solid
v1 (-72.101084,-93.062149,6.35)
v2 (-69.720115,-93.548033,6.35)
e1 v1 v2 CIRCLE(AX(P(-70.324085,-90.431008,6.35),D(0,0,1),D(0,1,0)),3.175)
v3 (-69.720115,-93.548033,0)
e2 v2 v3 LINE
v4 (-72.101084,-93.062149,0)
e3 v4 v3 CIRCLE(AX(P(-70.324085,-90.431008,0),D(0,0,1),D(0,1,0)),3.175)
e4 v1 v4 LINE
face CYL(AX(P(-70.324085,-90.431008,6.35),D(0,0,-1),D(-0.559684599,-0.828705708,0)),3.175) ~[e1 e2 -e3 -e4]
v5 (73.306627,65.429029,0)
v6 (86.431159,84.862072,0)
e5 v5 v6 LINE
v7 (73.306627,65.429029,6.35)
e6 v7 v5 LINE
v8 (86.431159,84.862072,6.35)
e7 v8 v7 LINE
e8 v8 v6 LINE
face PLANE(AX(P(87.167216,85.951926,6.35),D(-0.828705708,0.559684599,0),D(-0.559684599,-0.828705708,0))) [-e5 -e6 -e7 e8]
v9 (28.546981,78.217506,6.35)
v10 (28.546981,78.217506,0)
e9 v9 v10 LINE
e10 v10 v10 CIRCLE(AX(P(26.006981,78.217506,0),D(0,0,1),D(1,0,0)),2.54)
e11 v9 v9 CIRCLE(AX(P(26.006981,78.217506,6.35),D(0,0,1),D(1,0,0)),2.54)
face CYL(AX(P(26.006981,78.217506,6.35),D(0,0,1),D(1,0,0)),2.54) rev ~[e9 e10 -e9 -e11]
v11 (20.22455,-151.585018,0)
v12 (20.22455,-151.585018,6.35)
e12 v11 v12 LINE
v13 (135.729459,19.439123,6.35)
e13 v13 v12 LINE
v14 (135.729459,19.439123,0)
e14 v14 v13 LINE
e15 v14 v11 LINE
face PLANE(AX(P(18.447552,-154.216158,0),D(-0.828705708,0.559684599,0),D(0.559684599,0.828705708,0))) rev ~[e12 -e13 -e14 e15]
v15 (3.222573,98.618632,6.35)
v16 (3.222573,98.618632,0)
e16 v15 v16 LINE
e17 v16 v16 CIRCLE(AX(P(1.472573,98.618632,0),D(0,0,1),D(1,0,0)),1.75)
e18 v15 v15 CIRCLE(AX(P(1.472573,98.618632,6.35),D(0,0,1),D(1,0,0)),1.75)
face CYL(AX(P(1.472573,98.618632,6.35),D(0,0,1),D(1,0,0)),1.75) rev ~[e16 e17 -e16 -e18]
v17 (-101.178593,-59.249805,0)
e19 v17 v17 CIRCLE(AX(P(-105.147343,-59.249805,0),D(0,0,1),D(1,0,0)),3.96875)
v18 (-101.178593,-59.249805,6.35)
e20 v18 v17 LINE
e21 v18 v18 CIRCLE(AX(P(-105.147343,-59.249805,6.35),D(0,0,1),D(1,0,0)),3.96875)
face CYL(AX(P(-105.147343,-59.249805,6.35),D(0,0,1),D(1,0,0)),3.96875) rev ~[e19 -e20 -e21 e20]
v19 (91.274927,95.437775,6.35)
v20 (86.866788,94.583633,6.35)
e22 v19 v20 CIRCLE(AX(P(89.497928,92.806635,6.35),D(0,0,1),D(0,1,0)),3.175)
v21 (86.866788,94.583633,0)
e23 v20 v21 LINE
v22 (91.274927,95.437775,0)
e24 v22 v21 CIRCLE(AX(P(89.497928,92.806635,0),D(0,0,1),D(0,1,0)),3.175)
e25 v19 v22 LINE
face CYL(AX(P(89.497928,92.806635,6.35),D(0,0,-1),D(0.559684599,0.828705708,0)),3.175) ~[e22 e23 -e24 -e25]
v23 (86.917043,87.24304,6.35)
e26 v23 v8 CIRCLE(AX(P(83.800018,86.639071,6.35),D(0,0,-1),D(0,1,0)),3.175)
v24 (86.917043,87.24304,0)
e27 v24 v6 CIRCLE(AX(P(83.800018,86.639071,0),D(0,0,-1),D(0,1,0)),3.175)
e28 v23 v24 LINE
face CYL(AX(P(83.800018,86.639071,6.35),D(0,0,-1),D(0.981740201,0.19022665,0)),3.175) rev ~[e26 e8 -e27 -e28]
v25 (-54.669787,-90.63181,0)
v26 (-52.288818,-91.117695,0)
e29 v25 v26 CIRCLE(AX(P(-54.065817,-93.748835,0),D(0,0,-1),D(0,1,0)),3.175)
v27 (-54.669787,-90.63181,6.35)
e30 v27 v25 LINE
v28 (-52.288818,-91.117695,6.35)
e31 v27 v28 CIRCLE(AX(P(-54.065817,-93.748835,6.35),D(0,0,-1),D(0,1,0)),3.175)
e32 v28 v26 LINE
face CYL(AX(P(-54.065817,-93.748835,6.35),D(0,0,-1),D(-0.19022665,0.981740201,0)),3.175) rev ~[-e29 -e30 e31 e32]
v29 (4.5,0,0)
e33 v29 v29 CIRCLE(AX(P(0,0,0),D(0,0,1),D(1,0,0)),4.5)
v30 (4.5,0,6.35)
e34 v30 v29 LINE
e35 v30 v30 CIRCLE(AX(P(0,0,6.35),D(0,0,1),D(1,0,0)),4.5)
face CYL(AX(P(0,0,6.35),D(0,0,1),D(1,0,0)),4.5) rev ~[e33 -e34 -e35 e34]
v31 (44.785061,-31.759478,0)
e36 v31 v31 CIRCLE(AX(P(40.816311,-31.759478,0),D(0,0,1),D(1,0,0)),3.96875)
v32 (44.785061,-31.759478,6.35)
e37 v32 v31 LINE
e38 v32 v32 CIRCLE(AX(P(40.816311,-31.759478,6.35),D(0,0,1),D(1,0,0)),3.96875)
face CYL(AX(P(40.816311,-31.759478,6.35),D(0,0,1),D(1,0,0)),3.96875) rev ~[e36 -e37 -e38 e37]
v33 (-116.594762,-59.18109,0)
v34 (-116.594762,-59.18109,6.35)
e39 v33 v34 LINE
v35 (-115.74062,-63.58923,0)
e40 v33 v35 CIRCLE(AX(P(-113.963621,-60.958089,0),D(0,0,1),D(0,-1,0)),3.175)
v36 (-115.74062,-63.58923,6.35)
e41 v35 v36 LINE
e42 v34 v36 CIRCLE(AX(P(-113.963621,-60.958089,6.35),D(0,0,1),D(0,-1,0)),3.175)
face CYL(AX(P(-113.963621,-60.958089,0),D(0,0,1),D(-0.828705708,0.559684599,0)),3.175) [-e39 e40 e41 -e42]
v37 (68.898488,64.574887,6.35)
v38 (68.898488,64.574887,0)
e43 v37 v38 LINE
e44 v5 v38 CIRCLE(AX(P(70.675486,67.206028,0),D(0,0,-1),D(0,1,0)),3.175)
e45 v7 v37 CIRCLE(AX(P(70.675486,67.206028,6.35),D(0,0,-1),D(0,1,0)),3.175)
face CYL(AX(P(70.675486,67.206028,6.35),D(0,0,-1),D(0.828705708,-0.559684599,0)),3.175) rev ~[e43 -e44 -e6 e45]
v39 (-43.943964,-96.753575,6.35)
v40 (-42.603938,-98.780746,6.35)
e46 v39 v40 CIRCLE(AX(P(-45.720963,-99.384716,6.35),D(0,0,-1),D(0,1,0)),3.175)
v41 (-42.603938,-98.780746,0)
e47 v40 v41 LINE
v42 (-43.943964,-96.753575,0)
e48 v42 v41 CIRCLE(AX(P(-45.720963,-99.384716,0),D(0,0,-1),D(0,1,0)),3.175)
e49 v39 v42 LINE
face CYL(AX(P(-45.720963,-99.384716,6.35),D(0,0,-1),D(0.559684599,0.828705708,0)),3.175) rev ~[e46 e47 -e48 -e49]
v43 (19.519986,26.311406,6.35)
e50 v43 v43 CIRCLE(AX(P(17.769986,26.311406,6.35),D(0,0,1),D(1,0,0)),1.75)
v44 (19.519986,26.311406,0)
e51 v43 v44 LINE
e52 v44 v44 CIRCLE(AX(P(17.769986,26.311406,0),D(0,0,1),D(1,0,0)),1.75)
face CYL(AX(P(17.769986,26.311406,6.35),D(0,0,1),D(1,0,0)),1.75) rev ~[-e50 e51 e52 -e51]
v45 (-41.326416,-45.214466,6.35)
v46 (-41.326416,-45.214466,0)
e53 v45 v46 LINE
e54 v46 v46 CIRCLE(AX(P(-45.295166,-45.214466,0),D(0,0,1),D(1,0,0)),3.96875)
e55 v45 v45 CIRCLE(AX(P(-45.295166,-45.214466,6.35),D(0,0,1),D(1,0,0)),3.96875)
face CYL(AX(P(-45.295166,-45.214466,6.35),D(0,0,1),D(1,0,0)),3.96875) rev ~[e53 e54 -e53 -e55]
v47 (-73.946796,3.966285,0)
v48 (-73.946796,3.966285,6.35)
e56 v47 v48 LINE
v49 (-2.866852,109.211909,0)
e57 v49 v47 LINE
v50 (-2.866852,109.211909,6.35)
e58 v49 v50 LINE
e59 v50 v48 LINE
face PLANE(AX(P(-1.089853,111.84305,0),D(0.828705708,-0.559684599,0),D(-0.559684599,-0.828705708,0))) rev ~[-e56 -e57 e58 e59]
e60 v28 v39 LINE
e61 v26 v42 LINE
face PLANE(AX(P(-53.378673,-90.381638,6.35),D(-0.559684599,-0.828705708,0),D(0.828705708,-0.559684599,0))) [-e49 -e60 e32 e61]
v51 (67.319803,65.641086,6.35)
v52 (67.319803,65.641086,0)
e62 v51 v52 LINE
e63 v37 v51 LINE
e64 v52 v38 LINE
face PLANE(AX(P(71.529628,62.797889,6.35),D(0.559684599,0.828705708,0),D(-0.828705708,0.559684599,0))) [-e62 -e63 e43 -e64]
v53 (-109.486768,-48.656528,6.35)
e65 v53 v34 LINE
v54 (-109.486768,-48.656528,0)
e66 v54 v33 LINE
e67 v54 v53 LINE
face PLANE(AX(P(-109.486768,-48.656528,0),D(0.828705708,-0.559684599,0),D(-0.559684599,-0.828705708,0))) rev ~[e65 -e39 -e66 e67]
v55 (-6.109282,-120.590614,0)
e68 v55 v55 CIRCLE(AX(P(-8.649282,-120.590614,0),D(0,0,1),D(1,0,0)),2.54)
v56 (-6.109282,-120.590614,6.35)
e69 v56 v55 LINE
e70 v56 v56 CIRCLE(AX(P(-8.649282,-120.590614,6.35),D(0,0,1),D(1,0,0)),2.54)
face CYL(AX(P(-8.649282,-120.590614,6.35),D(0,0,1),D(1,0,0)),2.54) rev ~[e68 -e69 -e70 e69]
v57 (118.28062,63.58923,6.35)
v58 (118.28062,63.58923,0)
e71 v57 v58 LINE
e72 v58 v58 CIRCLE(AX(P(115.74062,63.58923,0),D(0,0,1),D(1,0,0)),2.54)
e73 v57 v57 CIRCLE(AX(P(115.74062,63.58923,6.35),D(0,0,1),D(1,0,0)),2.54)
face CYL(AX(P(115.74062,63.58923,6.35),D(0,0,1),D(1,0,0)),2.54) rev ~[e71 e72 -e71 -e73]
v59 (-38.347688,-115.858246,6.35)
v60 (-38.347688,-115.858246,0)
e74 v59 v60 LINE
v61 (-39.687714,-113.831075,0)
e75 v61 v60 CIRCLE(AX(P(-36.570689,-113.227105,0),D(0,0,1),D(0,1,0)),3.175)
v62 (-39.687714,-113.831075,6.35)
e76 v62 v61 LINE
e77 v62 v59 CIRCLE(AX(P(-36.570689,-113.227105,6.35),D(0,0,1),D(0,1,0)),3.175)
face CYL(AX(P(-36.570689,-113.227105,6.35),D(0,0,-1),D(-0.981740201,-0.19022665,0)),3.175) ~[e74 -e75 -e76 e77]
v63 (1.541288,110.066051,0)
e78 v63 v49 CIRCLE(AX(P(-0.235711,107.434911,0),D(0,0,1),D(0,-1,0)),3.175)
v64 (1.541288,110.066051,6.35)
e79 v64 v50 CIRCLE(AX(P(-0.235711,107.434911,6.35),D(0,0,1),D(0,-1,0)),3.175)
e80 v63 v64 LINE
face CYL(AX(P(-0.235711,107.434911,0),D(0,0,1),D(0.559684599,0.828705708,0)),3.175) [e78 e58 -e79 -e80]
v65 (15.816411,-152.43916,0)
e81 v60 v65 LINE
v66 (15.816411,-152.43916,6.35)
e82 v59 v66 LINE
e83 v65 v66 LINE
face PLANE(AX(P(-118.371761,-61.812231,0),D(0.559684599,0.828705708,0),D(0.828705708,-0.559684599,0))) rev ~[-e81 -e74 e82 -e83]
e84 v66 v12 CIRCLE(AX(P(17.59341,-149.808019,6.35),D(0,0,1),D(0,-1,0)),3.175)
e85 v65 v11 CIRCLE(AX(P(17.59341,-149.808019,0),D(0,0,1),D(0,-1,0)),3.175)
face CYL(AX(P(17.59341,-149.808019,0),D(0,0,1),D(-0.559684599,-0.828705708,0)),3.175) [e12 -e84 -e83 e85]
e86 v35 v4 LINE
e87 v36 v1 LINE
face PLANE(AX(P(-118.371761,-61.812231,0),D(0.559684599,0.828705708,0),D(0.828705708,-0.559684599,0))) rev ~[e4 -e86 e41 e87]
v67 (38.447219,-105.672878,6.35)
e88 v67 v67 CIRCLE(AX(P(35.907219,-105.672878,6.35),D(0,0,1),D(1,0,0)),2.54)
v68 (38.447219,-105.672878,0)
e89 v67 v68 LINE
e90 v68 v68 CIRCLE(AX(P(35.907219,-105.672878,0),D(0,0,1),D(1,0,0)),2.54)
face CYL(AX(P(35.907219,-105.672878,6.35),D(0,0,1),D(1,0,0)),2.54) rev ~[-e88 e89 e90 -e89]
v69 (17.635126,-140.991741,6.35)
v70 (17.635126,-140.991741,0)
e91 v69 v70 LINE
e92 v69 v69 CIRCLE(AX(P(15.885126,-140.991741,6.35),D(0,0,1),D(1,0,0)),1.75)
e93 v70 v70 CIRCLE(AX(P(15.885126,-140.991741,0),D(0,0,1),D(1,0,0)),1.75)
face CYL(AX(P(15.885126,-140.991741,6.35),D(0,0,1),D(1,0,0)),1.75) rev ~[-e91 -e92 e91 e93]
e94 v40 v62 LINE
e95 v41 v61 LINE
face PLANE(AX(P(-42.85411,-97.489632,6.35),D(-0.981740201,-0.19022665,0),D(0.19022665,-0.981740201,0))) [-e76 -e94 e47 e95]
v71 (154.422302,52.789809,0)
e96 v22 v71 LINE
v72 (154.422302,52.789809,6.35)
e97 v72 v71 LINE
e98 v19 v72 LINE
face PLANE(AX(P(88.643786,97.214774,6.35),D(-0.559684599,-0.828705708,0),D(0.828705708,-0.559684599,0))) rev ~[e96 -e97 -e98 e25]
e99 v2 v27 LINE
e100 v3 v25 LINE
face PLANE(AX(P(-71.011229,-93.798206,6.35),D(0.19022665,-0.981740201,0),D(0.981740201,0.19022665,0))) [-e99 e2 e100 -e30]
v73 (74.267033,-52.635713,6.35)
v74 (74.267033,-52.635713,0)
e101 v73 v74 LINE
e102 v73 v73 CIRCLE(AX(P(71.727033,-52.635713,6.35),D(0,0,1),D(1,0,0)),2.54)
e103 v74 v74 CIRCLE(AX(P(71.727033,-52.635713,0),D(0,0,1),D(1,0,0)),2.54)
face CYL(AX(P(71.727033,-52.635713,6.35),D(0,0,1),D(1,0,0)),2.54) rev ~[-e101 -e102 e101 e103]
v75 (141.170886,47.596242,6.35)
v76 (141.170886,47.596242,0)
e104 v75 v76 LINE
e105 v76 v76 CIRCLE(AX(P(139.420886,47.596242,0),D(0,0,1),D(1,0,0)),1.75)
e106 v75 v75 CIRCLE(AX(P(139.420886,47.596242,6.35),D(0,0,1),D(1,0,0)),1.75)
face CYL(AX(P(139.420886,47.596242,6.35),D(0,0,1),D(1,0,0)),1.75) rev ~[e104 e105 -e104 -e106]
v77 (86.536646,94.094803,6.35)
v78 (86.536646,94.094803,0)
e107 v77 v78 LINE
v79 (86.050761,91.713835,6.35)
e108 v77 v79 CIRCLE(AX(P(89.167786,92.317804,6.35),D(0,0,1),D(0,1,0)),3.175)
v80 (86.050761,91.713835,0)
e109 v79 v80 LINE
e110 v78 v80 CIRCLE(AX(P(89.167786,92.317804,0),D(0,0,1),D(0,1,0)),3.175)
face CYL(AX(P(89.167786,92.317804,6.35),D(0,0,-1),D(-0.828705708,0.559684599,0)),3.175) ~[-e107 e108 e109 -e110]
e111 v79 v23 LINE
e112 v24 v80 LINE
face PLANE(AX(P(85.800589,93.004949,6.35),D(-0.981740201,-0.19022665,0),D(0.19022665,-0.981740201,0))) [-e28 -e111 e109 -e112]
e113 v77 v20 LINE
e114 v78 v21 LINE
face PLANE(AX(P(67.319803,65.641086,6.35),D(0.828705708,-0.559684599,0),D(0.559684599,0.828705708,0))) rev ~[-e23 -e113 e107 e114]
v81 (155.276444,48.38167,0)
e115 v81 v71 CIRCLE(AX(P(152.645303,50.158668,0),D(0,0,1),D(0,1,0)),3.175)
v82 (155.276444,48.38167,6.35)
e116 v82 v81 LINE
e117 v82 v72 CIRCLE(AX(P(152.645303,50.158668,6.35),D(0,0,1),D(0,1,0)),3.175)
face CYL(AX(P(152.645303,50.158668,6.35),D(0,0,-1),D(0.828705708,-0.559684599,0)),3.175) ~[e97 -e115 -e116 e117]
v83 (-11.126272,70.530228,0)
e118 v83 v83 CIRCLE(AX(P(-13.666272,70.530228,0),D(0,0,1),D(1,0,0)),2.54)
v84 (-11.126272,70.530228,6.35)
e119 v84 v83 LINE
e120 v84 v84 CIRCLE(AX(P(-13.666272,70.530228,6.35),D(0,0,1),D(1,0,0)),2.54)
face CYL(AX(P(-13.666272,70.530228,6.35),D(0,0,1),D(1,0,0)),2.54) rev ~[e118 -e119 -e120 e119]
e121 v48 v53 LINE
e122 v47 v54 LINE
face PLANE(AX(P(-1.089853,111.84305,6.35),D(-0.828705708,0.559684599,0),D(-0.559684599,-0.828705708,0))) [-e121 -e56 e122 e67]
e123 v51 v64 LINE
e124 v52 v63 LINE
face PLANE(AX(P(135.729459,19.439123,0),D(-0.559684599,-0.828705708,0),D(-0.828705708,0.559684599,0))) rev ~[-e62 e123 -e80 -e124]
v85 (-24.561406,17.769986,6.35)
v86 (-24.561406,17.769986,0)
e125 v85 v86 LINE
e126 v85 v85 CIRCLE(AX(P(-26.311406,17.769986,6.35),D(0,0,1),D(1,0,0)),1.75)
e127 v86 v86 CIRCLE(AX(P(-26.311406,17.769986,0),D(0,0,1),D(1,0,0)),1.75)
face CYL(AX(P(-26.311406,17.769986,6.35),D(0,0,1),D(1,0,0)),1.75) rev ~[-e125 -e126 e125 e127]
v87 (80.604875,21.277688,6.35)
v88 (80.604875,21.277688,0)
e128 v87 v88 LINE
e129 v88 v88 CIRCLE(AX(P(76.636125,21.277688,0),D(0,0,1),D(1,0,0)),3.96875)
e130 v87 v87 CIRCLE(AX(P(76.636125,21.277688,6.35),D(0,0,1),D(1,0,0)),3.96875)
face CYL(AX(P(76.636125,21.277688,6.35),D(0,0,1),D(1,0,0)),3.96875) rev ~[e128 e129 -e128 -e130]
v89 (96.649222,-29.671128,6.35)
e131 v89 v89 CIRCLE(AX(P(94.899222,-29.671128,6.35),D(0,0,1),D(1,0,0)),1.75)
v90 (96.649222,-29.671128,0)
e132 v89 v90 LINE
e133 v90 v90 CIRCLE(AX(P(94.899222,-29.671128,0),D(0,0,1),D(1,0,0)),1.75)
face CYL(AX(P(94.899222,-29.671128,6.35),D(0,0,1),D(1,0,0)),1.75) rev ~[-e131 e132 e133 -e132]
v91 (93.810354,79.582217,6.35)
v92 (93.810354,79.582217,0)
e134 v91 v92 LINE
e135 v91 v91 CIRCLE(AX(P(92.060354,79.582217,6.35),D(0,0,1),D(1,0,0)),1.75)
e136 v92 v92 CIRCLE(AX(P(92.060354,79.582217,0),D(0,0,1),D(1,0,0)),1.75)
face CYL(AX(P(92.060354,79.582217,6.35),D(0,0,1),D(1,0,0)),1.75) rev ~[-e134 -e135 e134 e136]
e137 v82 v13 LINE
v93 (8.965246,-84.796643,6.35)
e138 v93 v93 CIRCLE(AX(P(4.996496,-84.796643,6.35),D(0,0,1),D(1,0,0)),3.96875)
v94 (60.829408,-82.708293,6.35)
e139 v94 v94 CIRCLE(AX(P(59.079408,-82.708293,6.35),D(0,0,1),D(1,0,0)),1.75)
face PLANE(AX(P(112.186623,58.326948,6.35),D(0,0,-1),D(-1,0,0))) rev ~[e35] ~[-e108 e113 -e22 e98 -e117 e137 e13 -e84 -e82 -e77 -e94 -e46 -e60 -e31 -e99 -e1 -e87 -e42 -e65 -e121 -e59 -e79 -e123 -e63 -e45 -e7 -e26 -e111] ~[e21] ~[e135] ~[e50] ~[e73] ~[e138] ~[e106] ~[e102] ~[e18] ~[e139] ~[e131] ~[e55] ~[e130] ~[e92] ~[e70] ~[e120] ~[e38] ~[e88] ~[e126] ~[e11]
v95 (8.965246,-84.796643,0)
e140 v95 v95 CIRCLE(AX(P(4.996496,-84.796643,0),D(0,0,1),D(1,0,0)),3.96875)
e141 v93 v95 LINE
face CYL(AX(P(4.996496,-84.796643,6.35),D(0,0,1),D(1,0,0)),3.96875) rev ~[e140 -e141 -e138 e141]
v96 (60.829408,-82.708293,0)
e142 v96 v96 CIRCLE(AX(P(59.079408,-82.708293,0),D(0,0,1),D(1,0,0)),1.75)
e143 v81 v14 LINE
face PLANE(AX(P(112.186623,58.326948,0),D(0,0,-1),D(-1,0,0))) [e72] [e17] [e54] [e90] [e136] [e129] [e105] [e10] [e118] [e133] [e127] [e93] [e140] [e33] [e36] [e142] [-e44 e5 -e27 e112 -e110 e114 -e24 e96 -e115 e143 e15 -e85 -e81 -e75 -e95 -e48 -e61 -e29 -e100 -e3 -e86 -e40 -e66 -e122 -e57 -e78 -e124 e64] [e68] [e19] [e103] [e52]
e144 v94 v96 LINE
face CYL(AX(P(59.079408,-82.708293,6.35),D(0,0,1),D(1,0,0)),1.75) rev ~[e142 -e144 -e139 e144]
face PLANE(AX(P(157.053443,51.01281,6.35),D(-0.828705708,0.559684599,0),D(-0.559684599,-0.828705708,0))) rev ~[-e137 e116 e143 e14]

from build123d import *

# Parameters (mm, degrees)
BOSS_EXTRUDE2_DEPTH = 6.35
CUT_EXTRUDE1_DEPTH  = 7.3500001
BOSS_EXTRUDE3_DEPTH = 6.35
SKETCH10_R          = 3.96875
CUT_EXTRUDE2_DEPTH  = 7.35
SKETCH11_R          = 4.5
CUT_EXTRUDE4_DEPTH  = 7.35
BOSS_EXTRUDE4_DEPTH = 6.35
SKETCH13_R          = 1.75
CUT_EXTRUDE5_DEPTH  = 7.35
LPATTERN1_COUNT     = 2
LPATTERN1_PITCH     = 64
SKETCH14_R          = 2.54
CUT_EXTRUDE6_DEPTH  = 7.35
SKETCH15_R          = 1.75
CUT_EXTRUDE7_DEPTH  = 7.35
SKETCH16_R          = 1.75
CUT_EXTRUDE8_DEPTH  = 7.35
SKETCH17_R          = 1.75
CUT_EXTRUDE9_DEPTH  = 7.35
SKETCH19_R          = 3.96875
CUT_EXTRUDE11_DEPTH = 7.35
SKETCH21_R          = 2.54
CUT_EXTRUDE12_DEPTH = 7.35
SKETCH22_R          = 3.96875
CUT_EXTRUDE13_DEPTH = 7.35
SKETCH23_R          = 4.885116726
SKETCH23_R_2        = 5.670398183
BOSS_EXTRUDE5_DEPTH = 6.35
CUT_EXTRUDE14_DEPTH = 7.35
FILLET1_R           = 3.175


with BuildPart() as part:
    # Sketch6 → Boss-Extrude2 (new body)
    with BuildSketch(Plane.XY):
        with BuildLine():
            Line((-68.006850091, -76.67090114), (-109.486767671, -48.656527855))
            Line((-109.486767671, -48.656527855), (-118.371760678, -61.812230963))
            Line((-118.371760678, -61.812230963), (18.447551645, -154.216158235))
            Line((18.447551645, -154.216158235), (135.729459338, 19.43912279))
            Line((135.729459338, 19.43912279), (-1.089852986, 111.843050063))
            Line((-1.089852986, 111.843050063), (-73.946795643, 3.966284577))
            Line((-73.946795643, 3.966284577), (-56.624438948, -7.732749433))
            ThreePointArc((-56.624438948, -7.732749433), (-43.058385537, 37.577891571), (0, 57.15))
            ThreePointArc((0, 57.15), (56.404848571, 31.095576642), (70.829334649, -29.338471048))
            add(Edge.make_bspline(
                [(70.829334649, -29.338471048), (70.811686062, -29.418295928), (70.776015112, -29.578104383), (70.713320217, -29.85478305), (70.619021771, -30.262929245), (70.501052001, -30.762086912), (70.364034474, -31.322191481), (70.199318515, -31.970958926), (70.000453855, -32.723919765), (69.795103485, -33.469783355), (69.582015398, -34.214296028), (69.361377803, -34.956693289), (69.133257682, -35.696762218), (68.838782679, -36.61892651), (68.470566207, -37.720710028), (68.019498024, -38.998776477), (67.474836154, -40.448808619), (66.901337925, -41.887676852), (66.299328392, -43.31485223), (65.669141732, -44.729810424), (65.011119088, -46.132040323), (64.325609411, -47.52103904), (63.612968547, -48.896314904), (62.87355937, -50.257385735), (62.107751613, -51.603779381), (61.315921169, -52.935034173), (60.49845004, -54.250698756), (59.655726138, -55.550331897), (58.571247582, -57.154294757), (57.220953058, -59.045283389), (55.576035723, -61.200397094), (53.604026134, -63.590264702), (51.54329346, -65.904053004), (49.39728314, -68.138962994), (47.169496434, -70.29235602), (44.863486103, -72.361752995), (42.482847363, -74.344831806), (40.031215607, -76.239428526), (36.882516177, -78.494556171), (32.976808929, -81.016011003), (28.250788286, -83.68089187), (21.41551215, -86.919136497), (14.30829026, -89.526654921), (6.996956895, -91.488176442), (-0.451922312, -92.797413176), (-6.61686174, -93.456358442), (-12.81195397, -93.702029749), (-19.009644204, -93.537285056), (-25.183124422, -92.966685286), (-31.306438312, -91.996382122), (-36.598524037, -90.804323442), (-41.072542301, -89.543185606), (-44.752319298, -88.33589156), (-47.664184976, -87.27761875), (-50.541347258, -86.128353728), (-53.381128552, -84.889612663), (-56.180924218, -83.562977818), (-58.593536599, -82.326710176), (-60.633378351, -81.214215821), (-62.313751085, -80.252471782), (-63.646071553, -79.462491566), (-64.966093336, -78.652178853), (-66.222359154, -77.854259082), (-67.143044791, -77.250601571), (-67.736251212, -76.85365602), (-68.006850091, -76.67090114)],
                knots=[0.071020771, 0.071020771, 0.071020771, 0.071020771, 0.071020771, 0.072848477, 0.074676184, 0.07650389, 0.078331597, 0.08198701, 0.085642423, 0.089297836, 0.092953249, 0.096608662, 0.100264075, 0.103919488, 0.107574901, 0.114885727, 0.122196554, 0.12950738, 0.136818214, 0.144129048, 0.151439882, 0.158750716, 0.166061558, 0.173372401, 0.180683243, 0.187994085, 0.195304924, 0.202615763, 0.209926602, 0.217237441, 0.231859103, 0.246480766, 0.261102426, 0.275724085, 0.290345754, 0.304967424, 0.319589099, 0.334210774, 0.348832457, 0.36345414, 0.392697464, 0.421940789, 0.451184112, 0.506140643, 0.535383973, 0.564627303, 0.593870641, 0.623113979, 0.652357319, 0.68160066, 0.710843985, 0.740087309, 0.754708984, 0.769330659, 0.783952333, 0.798574008, 0.813195669, 0.82781733, 0.842438991, 0.849749821, 0.857060652, 0.86437149, 0.871682327, 0.878993165, 0.885158103, 0.885158103, 0.885158103, 0.885158103, 0.885158103], degree=4))
        make_face()
    extrude(amount=BOSS_EXTRUDE2_DEPTH)

    # Sketch8 → Cut-Extrude1 (cut, through all)
    with BuildSketch(Plane.XY.offset(6.35)):
        Polygon((-71.011229489, -93.798205788), (-53.378672597, -90.381637707), (-42.854110111, -97.489632113), (-39.43754203, -115.122189004), align=None)
    extrude(amount=-CUT_EXTRUDE1_DEPTH, mode=Mode.SUBTRACT)

    # Sketch9 → Boss-Extrude3 (add, through all)
    with BuildSketch(Plane.XY.offset(6.35)):
        Polygon((-1.089852986, 111.843050063), (-109.486767671, -48.656527855), (27.332544652, -141.060455127), (135.729459338, 19.43912279), align=None)
    extrude(amount=-BOSS_EXTRUDE3_DEPTH)

    # Sketch10 → Cut-Extrude2 (cut, through all)
    with BuildSketch(Plane.XY.offset(6.35)):
        with Locations((4.996496209, -84.796642912)):
            Circle(SKETCH10_R)
        with Locations((40.816310536, -31.759477627)):
            Circle(SKETCH10_R)
        with Locations((76.636124864, 21.277687659)):
            Circle(SKETCH10_R)
        with Locations((-45.295165913, -45.214466102)):
            Circle(SKETCH10_R)
    extrude(amount=-CUT_EXTRUDE2_DEPTH, mode=Mode.SUBTRACT)

    # Sketch11 → Cut-Extrude4 (cut, through all)
    with BuildSketch(Plane.XY.offset(6.35)):
        Circle(SKETCH11_R)
    extrude(amount=-CUT_EXTRUDE4_DEPTH, mode=Mode.SUBTRACT)

    # Sketch12 → Boss-Extrude4 (add, through all)
    with BuildSketch(Plane.XY.offset(6.35)):
        Polygon((135.729459338, 19.43912279), (67.319803176, 65.641086427), (88.643786393, 97.214773886), (157.053442554, 51.01281025), align=None)
    extrude(amount=-BOSS_EXTRUDE4_DEPTH)

    # Sketch13 → Cut-Extrude5 (cut, through all)
    with BuildSketch(Plane.XY.offset(6.35)):
        with Locations((94.899221836, -29.671127724)):
            Circle(SKETCH13_R)
    cut_extrude5 = extrude(amount=-CUT_EXTRUDE5_DEPTH, mode=Mode.SUBTRACT)

    # LPattern1: Cut-Extrude5 ×2
    with Locations(*[Vector(-0.559684599, -0.828705708, 0) * (i * LPATTERN1_PITCH) for i in range(1, LPATTERN1_COUNT)]):
        add(cut_extrude5, mode=Mode.SUBTRACT)

    # Sketch14 → Cut-Extrude6 (cut, through all)
    with BuildSketch(Plane.XY.offset(6.35)):
        with Locations((71.72703343, -52.635713164)):
            Circle(SKETCH14_R)
        with Locations((35.907219102, -105.67287845)):
            Circle(SKETCH14_R)
        with Locations((115.740620068, 63.589229581)):
            Circle(SKETCH14_R)
    extrude(amount=-CUT_EXTRUDE6_DEPTH, mode=Mode.SUBTRACT)

    # Sketch15 → Cut-Extrude7 (cut, through all)
    with BuildSketch(Plane.XY.offset(6.35)):
        with Locations((-105.147343009, -59.249804902)):
            Circle(SKETCH15_R)
        with Locations((15.885125585, -140.991740566)):
            Circle(SKETCH15_R)
        with Locations((1.472573075, 98.618632394)):
            Circle(SKETCH15_R)
    extrude(amount=-CUT_EXTRUDE7_DEPTH, mode=Mode.SUBTRACT)

    # Sketch16 → Cut-Extrude8 (cut, through all)
    with BuildSketch(Plane.XY.offset(6.35)):
        with Locations((92.060354474, 79.582216994)):
            Circle(SKETCH16_R)
        with Locations((139.420885662, 47.596242169)):
            Circle(SKETCH16_R)
    extrude(amount=-CUT_EXTRUDE8_DEPTH, mode=Mode.SUBTRACT)

    # Sketch17 → Cut-Extrude9 (cut, through all)
    with BuildSketch(Plane.XY.offset(6.35)):
        with Locations((-26.311406216, 17.769986014)):
            Circle(SKETCH17_R)
        with Locations((17.769986014, 26.311406216)):
            Circle(SKETCH17_R)
    extrude(amount=-CUT_EXTRUDE9_DEPTH, mode=Mode.SUBTRACT)

    # Sketch19 → Cut-Extrude11 (cut, through all)
    with BuildSketch(Plane.XY.offset(6.35)):
        with Locations((-65.680233685, -85.904783923)):
            Circle(SKETCH19_R)
    extrude(amount=-CUT_EXTRUDE11_DEPTH, mode=Mode.SUBTRACT)

    # Sketch21 → Cut-Extrude12 (cut, through all)
    with BuildSketch(Plane.XY.offset(6.35)):
        with Locations((-13.666272317, 70.530227577)):
            Circle(SKETCH21_R)
        with Locations((26.00698069, 78.217505758)):
            Circle(SKETCH21_R)
        with Locations((-86.729358658, -71.688795112)):
            Circle(SKETCH21_R)
        with Locations((-8.64928203, -120.590613931)):
            Circle(SKETCH21_R)
    extrude(amount=-CUT_EXTRUDE12_DEPTH, mode=Mode.SUBTRACT)

    # Sketch22 → Cut-Extrude13 (cut, through all)
    with BuildSketch(Plane.XY.offset(6.35)):
        with Locations((-105.147343009, -59.249804902)):
            Circle(SKETCH22_R)
    extrude(amount=-CUT_EXTRUDE13_DEPTH, mode=Mode.SUBTRACT)

    # Sketch23 → Boss-Extrude5 (add, through all)
    with BuildSketch(Plane.XY.offset(6.35)):
        with Locations((-86.729358658, -71.688795112)):
            Circle(SKETCH23_R)
        with Locations((-65.680233685, -85.904783923)):
            Circle(SKETCH23_R_2)
    extrude(amount=-BOSS_EXTRUDE5_DEPTH)

    # Sketch24 → Cut-Extrude14 (cut, through all)
    with BuildSketch(Plane.XY.offset(6.35)):
        Polygon((85.800588631, 93.004948891), (87.167215863, 85.951926135), (71.529628171, 62.797888664), (67.319803176, 65.641086427), align=None)
    extrude(amount=-CUT_EXTRUDE14_DEPTH, mode=Mode.SUBTRACT)

    # Fillet1
    fillet1_edges = [part.edges().sort_by_distance(p)[0] for p in [
        (-1.089852986, 111.843050063, 3.175),
        (18.447551645, -154.216158235, 3.175),
        (-118.371760678, -61.812230963, 3.175),
        (85.800588631, 93.004948891, 3.175),
        (87.167215863, 85.951926135, 3.175),
        (71.529628171, 62.797888664, 3.175),
        (-39.43754203, -115.122189004, 3.175),
        (-71.011229489, -93.798205788, 3.175),
        (-53.378672597, -90.381637707, 3.175),
        (-42.854110111, -97.489632113, 3.175),
        (157.053442554, 51.01281025, 3.175),
        (88.643786393, 97.214773886, 3.175),
    ]]
    fillet(fillet1_edges, radius=FILLET1_R)


solid = part.part
